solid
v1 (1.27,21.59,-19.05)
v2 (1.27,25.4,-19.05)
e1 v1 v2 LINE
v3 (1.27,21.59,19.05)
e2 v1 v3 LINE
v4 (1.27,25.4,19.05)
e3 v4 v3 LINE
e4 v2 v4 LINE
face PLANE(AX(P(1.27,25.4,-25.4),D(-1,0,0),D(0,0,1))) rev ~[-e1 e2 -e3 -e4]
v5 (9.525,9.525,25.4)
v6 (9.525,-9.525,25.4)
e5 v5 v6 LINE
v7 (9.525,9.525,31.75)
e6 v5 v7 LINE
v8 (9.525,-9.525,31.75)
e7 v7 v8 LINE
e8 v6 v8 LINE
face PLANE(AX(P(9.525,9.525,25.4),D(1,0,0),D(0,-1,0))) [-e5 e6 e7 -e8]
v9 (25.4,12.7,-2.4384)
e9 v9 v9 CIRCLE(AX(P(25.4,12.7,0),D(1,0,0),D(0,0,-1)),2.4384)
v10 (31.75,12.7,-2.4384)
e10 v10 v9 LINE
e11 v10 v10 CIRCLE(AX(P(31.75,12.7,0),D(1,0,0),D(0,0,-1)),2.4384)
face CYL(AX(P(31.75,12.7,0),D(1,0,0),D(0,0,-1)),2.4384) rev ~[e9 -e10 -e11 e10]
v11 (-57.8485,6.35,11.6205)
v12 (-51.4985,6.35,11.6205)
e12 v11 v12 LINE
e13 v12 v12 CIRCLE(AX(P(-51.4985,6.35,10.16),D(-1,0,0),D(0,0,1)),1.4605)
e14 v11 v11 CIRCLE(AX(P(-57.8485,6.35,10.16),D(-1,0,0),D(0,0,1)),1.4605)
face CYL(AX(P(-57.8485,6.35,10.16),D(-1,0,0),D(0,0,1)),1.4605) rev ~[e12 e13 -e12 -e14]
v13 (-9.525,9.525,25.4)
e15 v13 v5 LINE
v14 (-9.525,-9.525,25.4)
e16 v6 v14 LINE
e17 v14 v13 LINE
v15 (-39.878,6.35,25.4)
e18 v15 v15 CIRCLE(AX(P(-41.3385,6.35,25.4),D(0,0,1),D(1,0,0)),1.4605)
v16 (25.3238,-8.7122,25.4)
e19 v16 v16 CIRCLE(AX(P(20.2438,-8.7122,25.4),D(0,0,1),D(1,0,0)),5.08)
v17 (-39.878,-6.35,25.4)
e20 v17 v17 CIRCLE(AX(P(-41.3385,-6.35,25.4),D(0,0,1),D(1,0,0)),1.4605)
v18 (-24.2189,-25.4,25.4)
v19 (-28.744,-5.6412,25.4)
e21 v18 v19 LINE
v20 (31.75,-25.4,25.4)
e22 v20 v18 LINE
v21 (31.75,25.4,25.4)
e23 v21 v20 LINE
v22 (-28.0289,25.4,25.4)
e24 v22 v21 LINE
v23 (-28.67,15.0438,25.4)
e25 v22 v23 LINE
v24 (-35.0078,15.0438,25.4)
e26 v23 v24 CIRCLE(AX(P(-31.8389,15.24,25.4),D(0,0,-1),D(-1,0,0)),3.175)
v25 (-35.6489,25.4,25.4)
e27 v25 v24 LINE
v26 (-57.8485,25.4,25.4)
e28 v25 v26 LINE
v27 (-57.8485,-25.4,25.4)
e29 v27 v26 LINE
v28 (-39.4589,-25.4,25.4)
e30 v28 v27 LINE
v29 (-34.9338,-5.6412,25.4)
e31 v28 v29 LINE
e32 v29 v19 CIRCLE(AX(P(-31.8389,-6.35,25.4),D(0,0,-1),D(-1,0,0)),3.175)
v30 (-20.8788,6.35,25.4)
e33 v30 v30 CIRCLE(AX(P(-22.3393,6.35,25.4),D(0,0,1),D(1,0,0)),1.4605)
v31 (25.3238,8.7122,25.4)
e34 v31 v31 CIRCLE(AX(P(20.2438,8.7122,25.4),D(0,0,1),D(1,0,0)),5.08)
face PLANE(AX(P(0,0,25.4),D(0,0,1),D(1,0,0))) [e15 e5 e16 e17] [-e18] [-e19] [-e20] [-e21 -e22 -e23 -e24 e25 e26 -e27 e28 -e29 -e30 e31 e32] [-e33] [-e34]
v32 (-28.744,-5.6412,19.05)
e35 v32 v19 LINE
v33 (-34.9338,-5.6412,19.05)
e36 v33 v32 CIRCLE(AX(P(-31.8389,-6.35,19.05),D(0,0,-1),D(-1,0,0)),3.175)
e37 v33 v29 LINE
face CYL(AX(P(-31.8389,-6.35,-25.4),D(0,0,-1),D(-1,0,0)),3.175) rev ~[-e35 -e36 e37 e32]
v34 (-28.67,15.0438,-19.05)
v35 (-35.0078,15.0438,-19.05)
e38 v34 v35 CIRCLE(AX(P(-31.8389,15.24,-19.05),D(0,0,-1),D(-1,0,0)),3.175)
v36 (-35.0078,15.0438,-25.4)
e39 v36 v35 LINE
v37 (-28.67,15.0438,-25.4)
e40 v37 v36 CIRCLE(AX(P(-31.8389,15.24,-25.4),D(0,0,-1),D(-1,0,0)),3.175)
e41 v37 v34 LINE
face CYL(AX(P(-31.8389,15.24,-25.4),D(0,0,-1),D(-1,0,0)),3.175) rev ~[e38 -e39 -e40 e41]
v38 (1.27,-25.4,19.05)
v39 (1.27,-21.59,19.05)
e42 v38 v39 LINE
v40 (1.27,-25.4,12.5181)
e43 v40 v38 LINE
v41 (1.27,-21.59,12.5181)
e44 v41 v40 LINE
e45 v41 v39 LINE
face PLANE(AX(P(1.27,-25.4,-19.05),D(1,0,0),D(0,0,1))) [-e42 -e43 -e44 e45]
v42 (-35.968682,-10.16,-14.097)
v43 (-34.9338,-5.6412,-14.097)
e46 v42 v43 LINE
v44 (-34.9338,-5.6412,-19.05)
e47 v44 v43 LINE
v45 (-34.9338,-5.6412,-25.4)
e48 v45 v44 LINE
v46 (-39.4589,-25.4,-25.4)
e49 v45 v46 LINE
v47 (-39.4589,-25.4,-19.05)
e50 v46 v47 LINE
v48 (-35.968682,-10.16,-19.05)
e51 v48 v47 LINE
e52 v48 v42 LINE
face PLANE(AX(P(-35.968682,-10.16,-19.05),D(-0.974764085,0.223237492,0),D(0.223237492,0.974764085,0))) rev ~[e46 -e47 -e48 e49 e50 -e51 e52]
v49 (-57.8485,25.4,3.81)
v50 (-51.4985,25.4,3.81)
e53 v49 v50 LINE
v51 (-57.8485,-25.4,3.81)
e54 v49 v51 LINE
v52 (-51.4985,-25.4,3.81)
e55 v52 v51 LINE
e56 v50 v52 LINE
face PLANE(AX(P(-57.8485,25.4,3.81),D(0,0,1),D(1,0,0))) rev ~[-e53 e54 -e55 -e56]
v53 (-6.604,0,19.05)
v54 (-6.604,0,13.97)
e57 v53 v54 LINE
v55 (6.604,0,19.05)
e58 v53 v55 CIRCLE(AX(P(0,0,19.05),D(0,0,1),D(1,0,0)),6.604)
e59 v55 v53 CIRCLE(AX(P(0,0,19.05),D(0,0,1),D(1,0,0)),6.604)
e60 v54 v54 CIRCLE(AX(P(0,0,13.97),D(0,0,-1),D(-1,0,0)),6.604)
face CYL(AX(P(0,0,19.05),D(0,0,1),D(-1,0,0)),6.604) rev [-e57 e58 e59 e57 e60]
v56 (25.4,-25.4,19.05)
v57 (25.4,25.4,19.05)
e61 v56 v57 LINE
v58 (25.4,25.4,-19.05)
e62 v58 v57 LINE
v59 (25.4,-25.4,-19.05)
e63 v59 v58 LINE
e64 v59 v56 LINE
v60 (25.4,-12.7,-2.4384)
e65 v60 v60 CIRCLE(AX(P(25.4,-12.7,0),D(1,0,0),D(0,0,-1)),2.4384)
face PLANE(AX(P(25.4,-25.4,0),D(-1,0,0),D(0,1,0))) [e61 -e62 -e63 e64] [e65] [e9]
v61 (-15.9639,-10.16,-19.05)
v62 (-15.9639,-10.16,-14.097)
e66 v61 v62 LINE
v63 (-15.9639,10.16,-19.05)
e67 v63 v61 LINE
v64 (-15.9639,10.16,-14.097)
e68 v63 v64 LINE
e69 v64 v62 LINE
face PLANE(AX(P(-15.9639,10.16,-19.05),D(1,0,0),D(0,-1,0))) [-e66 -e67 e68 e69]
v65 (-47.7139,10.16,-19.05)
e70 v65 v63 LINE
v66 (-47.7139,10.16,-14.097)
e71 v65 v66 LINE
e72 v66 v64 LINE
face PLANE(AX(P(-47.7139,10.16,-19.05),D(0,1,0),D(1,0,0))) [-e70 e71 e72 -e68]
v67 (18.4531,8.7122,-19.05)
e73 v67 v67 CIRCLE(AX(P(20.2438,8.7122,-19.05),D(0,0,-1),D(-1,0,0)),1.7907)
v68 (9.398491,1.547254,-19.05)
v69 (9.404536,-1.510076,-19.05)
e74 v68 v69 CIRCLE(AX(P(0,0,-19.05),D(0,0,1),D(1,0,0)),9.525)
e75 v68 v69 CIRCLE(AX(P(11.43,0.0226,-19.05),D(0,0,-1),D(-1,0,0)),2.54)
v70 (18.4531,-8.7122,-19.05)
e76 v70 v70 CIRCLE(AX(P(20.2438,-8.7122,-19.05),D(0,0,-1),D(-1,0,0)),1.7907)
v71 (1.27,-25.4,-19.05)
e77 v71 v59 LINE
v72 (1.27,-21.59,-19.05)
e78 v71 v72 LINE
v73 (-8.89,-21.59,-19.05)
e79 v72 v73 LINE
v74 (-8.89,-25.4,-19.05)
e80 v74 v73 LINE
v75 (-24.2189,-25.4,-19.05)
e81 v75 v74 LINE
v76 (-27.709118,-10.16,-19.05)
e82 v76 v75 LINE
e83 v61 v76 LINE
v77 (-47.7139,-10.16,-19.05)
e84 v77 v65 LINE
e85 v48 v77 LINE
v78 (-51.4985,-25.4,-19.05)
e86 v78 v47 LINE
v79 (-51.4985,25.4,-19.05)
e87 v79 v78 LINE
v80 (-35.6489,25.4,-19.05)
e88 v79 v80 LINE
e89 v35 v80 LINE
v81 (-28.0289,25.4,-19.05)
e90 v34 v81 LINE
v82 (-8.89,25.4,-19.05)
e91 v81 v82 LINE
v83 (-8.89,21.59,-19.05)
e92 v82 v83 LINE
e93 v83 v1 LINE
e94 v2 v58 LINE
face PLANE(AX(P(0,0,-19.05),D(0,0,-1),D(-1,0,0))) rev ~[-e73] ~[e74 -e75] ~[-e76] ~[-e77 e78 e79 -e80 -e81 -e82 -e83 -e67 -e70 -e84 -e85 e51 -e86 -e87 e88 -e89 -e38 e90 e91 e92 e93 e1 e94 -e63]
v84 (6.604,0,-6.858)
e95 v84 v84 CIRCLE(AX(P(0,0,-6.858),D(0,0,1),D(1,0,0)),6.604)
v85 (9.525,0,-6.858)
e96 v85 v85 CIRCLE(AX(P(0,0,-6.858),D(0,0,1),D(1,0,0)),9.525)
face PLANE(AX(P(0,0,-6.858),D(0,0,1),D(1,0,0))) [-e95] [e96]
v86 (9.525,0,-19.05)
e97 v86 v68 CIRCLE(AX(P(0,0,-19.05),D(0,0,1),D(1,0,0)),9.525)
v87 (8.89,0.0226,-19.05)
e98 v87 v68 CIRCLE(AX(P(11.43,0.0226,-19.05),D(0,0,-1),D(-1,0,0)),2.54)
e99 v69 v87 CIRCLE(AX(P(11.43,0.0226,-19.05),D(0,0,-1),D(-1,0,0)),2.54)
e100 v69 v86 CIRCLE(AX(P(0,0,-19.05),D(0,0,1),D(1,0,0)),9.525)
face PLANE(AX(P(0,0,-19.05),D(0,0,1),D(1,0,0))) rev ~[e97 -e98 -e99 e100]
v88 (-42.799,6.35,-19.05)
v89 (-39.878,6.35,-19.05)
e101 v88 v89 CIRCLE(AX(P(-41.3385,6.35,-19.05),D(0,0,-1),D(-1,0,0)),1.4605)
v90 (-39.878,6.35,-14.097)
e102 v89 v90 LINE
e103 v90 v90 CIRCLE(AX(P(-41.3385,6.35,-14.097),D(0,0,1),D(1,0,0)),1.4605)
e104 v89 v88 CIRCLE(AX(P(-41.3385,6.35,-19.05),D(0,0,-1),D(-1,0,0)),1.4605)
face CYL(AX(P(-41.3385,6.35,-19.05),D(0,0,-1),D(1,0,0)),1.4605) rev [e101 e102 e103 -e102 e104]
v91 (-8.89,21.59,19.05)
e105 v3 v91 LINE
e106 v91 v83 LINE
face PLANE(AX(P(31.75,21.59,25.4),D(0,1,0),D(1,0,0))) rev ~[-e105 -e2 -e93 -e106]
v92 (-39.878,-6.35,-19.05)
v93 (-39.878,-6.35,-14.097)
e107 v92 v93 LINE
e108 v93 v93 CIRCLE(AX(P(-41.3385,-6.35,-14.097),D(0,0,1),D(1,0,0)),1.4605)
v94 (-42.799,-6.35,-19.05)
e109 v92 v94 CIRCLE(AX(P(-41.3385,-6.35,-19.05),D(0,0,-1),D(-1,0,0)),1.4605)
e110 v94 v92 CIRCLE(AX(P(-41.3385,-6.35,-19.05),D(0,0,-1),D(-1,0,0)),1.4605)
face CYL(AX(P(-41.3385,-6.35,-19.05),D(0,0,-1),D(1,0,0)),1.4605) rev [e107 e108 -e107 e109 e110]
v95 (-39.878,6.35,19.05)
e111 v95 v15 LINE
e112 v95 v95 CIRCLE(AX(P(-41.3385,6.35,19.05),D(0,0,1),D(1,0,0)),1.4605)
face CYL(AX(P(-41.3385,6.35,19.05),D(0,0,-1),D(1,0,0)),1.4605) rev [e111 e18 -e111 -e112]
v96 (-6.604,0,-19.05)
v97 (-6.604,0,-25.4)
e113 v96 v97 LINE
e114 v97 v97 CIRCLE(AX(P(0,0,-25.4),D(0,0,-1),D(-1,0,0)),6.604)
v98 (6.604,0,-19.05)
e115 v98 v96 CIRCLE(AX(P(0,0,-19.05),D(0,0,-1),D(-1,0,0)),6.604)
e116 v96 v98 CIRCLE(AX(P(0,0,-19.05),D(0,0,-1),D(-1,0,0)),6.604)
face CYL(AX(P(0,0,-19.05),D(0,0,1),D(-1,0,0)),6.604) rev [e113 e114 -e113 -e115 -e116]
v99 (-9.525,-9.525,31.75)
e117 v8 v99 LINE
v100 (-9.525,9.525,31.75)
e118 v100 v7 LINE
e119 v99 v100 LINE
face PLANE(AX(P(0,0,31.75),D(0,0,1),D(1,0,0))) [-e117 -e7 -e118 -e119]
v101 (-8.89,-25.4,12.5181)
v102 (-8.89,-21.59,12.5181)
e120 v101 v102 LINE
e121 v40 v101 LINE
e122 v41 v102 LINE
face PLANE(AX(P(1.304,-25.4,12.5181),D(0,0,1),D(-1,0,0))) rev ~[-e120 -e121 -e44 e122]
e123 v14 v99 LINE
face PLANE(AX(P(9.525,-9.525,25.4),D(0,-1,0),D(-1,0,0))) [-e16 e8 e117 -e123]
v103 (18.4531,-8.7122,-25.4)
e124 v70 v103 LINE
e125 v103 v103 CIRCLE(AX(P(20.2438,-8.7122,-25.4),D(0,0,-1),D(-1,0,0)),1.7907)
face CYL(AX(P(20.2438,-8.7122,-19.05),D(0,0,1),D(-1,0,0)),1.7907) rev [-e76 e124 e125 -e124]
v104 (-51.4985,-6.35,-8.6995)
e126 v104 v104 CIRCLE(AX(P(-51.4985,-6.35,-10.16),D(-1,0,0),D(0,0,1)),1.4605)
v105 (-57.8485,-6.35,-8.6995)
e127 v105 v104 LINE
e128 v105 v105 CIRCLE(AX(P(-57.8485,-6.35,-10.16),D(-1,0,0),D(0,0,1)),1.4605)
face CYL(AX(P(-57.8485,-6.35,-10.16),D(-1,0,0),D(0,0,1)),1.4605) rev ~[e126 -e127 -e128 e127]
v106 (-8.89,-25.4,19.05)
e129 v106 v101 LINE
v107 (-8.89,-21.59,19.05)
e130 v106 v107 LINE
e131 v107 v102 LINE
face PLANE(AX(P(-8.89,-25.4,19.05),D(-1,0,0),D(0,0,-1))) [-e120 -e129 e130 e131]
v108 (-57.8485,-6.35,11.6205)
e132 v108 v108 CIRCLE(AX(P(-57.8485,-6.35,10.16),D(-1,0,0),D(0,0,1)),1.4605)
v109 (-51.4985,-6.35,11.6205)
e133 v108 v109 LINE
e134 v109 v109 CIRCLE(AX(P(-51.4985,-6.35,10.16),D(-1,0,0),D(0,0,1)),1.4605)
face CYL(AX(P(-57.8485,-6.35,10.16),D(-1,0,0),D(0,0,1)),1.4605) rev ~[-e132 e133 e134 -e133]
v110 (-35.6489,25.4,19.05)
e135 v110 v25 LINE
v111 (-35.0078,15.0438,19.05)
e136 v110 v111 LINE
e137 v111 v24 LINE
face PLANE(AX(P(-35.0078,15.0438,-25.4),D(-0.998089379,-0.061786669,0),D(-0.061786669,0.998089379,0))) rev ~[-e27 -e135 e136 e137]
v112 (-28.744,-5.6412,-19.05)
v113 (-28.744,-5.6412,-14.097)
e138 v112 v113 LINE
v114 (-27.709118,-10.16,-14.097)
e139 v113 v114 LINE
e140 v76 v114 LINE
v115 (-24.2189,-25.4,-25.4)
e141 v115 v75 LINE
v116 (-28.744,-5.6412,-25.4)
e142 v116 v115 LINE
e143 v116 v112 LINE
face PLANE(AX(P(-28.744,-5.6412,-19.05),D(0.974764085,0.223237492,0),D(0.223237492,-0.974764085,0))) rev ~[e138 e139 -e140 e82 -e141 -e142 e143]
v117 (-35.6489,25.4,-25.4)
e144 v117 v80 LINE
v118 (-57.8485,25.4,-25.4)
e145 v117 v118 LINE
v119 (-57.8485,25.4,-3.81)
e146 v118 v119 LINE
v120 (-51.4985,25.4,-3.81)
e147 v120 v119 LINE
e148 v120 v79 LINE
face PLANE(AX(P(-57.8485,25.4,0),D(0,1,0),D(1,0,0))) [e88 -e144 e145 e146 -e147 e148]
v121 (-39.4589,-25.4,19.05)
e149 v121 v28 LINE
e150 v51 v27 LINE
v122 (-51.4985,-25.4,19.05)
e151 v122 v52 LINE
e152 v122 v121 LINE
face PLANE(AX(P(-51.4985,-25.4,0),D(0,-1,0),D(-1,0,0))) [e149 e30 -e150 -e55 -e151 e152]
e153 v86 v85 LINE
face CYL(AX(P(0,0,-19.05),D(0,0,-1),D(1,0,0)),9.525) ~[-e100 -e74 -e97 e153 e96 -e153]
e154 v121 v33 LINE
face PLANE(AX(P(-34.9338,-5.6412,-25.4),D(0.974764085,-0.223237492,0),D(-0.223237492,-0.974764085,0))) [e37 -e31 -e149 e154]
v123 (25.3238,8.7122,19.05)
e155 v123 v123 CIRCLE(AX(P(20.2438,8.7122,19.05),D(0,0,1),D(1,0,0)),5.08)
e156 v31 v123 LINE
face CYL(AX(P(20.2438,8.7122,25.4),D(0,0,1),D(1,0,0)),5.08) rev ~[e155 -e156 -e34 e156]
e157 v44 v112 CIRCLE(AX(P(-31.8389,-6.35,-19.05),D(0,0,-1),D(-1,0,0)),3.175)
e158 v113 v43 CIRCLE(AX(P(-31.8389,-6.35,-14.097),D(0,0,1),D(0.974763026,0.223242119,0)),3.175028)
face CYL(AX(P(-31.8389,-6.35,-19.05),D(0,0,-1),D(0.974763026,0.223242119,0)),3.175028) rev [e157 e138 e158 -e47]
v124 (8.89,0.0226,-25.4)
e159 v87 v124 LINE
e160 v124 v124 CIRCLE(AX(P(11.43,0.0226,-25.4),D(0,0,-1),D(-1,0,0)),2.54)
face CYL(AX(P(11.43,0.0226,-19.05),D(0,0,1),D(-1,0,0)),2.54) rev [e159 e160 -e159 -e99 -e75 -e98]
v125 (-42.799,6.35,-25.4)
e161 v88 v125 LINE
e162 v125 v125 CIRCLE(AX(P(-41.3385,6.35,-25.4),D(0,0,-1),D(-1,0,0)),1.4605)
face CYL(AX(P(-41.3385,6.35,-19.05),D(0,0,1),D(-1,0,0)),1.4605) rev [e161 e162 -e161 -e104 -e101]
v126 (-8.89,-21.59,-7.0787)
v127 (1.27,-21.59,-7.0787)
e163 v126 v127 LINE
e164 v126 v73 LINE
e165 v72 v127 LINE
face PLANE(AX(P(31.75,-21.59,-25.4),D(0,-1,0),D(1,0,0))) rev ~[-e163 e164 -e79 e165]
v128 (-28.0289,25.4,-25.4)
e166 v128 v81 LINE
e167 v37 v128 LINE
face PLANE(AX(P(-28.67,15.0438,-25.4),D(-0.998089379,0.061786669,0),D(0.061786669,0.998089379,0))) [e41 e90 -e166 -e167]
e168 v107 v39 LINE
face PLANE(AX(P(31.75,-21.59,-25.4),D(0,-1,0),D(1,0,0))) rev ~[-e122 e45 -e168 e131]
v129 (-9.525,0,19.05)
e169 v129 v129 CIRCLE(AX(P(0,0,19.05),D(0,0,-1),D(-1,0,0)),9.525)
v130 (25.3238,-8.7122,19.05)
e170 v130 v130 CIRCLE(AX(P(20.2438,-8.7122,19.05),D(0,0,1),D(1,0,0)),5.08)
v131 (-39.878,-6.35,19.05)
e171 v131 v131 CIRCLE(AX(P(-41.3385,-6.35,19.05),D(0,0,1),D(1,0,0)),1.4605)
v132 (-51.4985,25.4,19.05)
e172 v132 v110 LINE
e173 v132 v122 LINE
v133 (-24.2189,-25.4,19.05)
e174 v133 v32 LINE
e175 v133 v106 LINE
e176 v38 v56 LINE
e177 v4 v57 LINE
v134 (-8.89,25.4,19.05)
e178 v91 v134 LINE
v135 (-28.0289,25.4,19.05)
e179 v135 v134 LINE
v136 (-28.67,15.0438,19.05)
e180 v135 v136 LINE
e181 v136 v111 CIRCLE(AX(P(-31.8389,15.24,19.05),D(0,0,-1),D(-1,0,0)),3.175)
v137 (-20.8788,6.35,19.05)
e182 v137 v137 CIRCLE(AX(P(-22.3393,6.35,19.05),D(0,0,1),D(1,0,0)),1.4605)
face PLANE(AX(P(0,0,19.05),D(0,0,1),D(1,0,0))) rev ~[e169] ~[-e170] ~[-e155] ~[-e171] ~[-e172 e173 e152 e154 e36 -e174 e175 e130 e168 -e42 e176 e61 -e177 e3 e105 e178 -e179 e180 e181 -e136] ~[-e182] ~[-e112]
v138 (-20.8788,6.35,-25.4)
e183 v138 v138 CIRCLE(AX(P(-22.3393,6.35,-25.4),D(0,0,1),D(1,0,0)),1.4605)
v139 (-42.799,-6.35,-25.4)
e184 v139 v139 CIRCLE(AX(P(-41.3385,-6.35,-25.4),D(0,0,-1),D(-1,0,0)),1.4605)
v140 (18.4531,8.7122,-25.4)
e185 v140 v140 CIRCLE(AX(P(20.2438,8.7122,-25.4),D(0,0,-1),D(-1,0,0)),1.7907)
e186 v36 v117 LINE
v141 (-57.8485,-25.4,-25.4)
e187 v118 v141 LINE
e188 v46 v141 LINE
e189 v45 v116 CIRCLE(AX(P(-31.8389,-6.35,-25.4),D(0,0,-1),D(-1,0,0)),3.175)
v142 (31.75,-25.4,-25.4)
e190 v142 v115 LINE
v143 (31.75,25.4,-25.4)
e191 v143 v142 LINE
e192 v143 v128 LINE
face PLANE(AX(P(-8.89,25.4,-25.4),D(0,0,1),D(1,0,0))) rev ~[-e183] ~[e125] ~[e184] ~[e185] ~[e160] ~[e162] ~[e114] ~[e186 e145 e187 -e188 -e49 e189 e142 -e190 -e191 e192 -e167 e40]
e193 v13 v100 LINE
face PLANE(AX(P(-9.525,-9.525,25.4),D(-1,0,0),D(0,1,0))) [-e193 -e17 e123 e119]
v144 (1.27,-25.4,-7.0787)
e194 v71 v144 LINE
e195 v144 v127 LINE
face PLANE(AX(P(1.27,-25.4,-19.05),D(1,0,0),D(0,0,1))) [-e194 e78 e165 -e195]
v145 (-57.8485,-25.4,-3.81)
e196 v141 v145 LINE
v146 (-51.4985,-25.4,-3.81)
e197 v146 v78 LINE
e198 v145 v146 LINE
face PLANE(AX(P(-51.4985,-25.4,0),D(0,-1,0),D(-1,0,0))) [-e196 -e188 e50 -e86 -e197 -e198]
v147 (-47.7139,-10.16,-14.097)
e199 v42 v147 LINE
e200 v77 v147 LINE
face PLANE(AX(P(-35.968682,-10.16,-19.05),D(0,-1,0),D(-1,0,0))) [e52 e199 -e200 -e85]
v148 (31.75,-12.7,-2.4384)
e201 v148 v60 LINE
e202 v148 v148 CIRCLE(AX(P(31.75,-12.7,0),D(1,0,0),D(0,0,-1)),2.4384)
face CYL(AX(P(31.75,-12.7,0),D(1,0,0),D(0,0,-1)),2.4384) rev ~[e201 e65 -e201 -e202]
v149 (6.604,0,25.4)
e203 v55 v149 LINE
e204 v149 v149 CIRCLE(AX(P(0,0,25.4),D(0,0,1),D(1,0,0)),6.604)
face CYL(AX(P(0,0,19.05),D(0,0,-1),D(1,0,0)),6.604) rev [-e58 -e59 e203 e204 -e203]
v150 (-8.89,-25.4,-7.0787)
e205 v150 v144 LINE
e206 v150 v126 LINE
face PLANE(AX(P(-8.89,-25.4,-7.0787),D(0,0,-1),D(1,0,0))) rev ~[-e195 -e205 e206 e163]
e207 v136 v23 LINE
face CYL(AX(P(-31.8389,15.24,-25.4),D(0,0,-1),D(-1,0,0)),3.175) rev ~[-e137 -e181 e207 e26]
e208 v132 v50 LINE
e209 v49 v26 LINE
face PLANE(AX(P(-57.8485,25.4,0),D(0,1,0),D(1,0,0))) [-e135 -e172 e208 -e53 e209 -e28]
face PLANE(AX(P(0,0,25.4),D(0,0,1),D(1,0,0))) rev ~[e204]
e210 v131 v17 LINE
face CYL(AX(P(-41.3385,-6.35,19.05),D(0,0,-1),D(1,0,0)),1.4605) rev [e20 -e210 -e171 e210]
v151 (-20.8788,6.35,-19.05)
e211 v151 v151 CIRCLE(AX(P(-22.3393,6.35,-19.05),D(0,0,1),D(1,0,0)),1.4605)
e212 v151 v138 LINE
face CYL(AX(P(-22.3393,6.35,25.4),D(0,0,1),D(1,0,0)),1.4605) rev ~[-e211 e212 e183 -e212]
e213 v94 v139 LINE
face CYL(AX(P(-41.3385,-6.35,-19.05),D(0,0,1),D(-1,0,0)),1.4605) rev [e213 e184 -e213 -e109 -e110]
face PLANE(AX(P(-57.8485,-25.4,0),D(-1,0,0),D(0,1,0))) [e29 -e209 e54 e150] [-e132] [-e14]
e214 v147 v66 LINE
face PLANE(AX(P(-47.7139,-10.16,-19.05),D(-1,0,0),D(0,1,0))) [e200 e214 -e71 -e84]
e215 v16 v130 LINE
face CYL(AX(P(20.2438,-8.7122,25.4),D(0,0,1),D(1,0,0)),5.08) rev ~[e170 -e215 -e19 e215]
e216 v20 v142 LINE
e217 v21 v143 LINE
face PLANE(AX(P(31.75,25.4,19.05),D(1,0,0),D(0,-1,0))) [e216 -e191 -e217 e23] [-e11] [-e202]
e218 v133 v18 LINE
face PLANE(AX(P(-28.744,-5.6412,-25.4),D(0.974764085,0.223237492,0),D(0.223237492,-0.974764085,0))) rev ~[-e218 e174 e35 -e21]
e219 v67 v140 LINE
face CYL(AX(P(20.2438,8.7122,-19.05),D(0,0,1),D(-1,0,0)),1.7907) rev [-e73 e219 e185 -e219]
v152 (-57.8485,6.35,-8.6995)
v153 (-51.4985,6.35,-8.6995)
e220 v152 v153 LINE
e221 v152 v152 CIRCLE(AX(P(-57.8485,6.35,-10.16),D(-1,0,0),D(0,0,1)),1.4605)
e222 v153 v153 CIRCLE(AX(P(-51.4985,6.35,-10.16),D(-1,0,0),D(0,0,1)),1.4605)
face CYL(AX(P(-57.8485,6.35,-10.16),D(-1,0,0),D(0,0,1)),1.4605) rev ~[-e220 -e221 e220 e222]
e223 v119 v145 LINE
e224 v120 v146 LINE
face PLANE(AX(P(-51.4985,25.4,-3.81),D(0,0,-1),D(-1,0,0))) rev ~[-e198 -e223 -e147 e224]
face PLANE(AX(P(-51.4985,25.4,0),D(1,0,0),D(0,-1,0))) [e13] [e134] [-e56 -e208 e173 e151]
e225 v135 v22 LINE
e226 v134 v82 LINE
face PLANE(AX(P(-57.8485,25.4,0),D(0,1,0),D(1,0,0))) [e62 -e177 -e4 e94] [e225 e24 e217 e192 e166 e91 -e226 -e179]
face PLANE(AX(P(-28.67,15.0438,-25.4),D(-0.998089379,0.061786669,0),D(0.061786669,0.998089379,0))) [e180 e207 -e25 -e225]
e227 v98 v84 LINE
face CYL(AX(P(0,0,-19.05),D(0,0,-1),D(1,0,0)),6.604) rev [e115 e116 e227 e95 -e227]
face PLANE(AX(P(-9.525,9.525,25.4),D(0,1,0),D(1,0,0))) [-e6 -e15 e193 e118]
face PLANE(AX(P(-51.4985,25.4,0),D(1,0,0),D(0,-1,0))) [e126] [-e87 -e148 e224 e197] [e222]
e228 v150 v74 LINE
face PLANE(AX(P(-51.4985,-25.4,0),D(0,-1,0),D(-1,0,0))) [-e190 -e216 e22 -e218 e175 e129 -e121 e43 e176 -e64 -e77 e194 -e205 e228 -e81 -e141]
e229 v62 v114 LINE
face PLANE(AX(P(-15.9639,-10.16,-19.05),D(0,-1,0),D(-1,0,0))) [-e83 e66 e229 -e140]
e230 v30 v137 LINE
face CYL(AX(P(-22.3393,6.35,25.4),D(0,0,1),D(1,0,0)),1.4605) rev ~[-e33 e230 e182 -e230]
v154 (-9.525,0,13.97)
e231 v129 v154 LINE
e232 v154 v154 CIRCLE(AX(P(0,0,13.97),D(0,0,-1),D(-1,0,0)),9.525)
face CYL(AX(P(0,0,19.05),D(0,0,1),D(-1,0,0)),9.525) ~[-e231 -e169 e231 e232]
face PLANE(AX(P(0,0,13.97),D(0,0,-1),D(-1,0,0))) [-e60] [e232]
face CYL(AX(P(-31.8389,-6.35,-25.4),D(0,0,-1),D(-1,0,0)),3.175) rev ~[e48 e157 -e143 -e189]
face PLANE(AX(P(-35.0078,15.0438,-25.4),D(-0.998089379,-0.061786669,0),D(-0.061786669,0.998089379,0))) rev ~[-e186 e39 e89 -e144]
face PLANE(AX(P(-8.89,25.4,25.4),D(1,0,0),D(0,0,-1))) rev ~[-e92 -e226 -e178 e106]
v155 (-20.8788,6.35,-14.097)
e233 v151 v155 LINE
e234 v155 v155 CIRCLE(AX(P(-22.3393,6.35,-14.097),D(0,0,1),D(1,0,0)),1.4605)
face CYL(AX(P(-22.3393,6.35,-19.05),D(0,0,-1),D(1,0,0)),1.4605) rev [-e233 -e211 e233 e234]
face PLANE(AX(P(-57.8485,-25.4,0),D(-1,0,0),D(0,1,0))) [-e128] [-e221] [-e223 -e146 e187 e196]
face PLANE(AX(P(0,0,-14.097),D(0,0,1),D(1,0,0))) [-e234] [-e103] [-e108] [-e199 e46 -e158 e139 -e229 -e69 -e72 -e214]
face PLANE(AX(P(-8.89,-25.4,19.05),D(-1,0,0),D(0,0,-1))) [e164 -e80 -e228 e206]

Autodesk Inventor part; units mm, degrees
ref_plane "YZ Plane" through (0, 0, 0) normal (1, 0, 0) x (0, 1, 0)
ref_plane "XZ Plane" through (0, 0, 0) normal (0, 1, 0) x (-1, 0, 0)
ref_plane "XY Plane" through (0, 0, 0) normal (0, 0, 1) x (1, 0, 0)
sketch "Sketch1" plane through (0, 0, 0) normal (0, 0, 1) x (1, 0, 0)
  line L0 (-57.8485, 25.4) -> (-51.4985, 25.4)
  line L1 (-51.4985, 25.4) -> (-51.4985, -25.4)
  line L2 (-51.4985, -25.4) -> (-57.8485, -25.4)
  line L3 (-57.8485, -25.4) -> (-57.8485, 25.4)
  line L4 (25.4, 25.4) -> (31.75, 25.4)
  line L5 (31.75, 25.4) -> (31.75, -25.4)
  line L6 (31.75, -25.4) -> (25.4, -25.4)
  line L7 (25.4, -25.4) -> (25.4, 25.4)
  point P0 (0, 0)
  dimension "d0" = 6.35
  dimension "d1" = 50.8
  dimension "d2" = 25.4
  dimension "d3" = 51.4985
  dimension "d4" = 25.4
  dimension "d5" = 25.4
extrude "Extrusion1" add sketch "Sketch1" along normal mid plane 38.1
sketch "Sketch2" plane through (0, 0, 19.05) normal (0, 0, 1) x (1, 0, 0)
  line L0 (-51.4985, 25.4) -> (-57.8485, 25.4) projected
  line L1 (31.75, -25.4) -> (25.4, -25.4) projected
  line L2 (-57.8485, 25.4) -> (31.75, 25.4)
  line L3 (31.75, 25.4) -> (31.75, -25.4)
  line L4 (31.75, -25.4) -> (-57.8485, -25.4)
  line L5 (-57.8485, -25.4) -> (-57.8485, 25.4)
  circle A0 centre (0, 0) radius 6.604
  circle A1 centre (-41.3385, 6.35) radius 1.4605
  line L6 (-47.9108, 0) -> (-31.2118, 0) construction
  circle A2 centre (-41.3385, -6.35) radius 1.4605
  line L7 (-51.4985, -25.4) -> (-51.4985, 25.4) projected
  dimension "d8" = 13.208
  dimension "d40" = 2.921
  dimension "d42" = 19.05
  dimension "d43" = 16.51
  dimension "d44" = 6.35
  dimension "d92" = 6.35
sketch "Sketch3" plane through (0, 0, -19.05) normal (0, 0, -1) x (-1, 0, 0)
  line L0 (-31.75, 25.4) -> (-31.75, -25.4) projected
  line L1 (51.4985, -25.4) -> (57.8485, -25.4) projected
  line L2 (-31.75, 25.4) -> (57.8485, 25.4)
  line L3 (57.8485, 25.4) -> (57.8485, -25.4)
  line L4 (57.8485, -25.4) -> (-31.75, -25.4)
  line L5 (-31.75, -25.4) -> (-31.75, 25.4)
  circle A0 centre (0, 0) radius 6.604
  circle A1 centre (-11.43, 0.0226) radius 2.54
  circle A2 centre (-20.2438, 8.7122) radius 1.7907
  line L6 (-13.9699, 0) -> (6.604, 0) construction
  circle A3 centre (-20.2438, -8.7122) radius 1.7907
  circle A4 centre (41.3385, 6.35) radius 1.4605
  line L7 (51.4985, 25.4) -> (51.4985, -25.4) projected
  circle A5 centre (41.3385, -6.35) radius 1.4605
  dimension "d11" = 13.208
  dimension "d12" = 5.08
  dimension "d13" = 11.43
  dimension "d14" = 3.5814
  dimension "d15" = 20.2438
  dimension "d16" = 8.7122
  dimension "d32" = 2.921
  dimension "d33" = 10.16
  dimension "d34" = 6.35
  dimension "d35" = 6.35
extrude "Extrusion7" add sketch "Sketch2" along normal blind 6.35
extrude "Extrusion6" add sketch "Sketch3" along normal blind 6.35
sketch "Sketch6" plane through (-57.8485, -25.4, 25.4) normal (-1, 0, 0) x (0, 0, 1)
  circle A0 centre (-23.114, 38.1) radius 1.4605
  line L0 (-35.0625, 25.4) -> (-10.5897, 25.4) construction
  line L1 (0, 0) -> (-50.8, 0) construction
  line L2 (0, 50.8) -> (0, 0) construction
  circle A1 centre (-23.114, 12.7) radius 1.4605
  point P0 (-25.4, 25.4)
  dimension "d47" = 2.921
  dimension "d48" = 25.4
  dimension "d49" = 12.7
  dimension "d50" = 23.114
extrude "Extrusion8" cut sketch "Sketch6" against normal up to next
sketch "Sketch8" plane through (-57.8485, 25.4, 25.4) normal (0, 1, 0) x (1, 0, 0)
  line L0 (0, 50.8) -> (0, 0) projected
  line L1 (0, 21.59) -> (6.35, 21.59)
  line L2 (6.35, 21.59) -> (6.35, 29.21)
  line L3 (6.35, 29.21) -> (0, 29.21)
  line L4 (0, 29.21) -> (0, 21.59)
  line L5 (0, 25.4) -> (6.35, 25.4) construction
  line L6 (89.5985, 0) -> (0, 0) projected
  line L7 (0, 50.8) -> (89.5985, 50.8) projected
  line L8 (6.35, 6.35) -> (6.35, 44.45) projected
  point P0 (57.8485, 25.4)
  point P1 (0, 29.21)
  dimension "d56" = 25.4
  dimension "d57" = 50.8
  dimension "d58" = 7.62
extrude "Extrusion10" cut sketch "Sketch8" against normal through all
sketch "Sketch10" plane through (0, 0, 25.4) normal (0, 0, 1) x (1, 0, 0)
  circle A0 centre (20.2438, -8.7122) radius 1.7907 construction
  circle A1 centre (20.2438, -8.7122) radius 1.7907 projected
  circle A2 centre (20.2438, 8.7122) radius 1.7907 construction
  circle A3 centre (20.2438, 8.7122) radius 1.7907 projected
  circle A4 centre (20.2438, 8.7122) radius 5.08
  circle A5 centre (20.2438, -8.7122) radius 5.08
  point P0 (0, 0)
  dimension "d64" = 10.16
extrude "Extrusion12" cut sketch "Sketch10" against normal blind 25.4 contours A1 | A3 | A4 | A5
sketch "Sketch11" plane through (0, 0, 25.4) normal (0, 0, 1) x (1, 0, 0)
  line L0 (9.525, -9.525) -> (-9.525, -9.525)
  line L1 (-9.525, -9.525) -> (-9.525, 9.525)
  line L2 (-9.525, 9.525) -> (9.525, 9.525)
  line L3 (9.525, 9.525) -> (9.525, -9.525)
  line L4 (9.525, -9.525) -> (-9.525, 9.525) construction
  line L5 (-9.525, -9.525) -> (9.525, 9.525) construction
  point P0 (0, 0)
  dimension "d67" = 19.05
  dimension "d68" = 19.05
extrude "Extrusion13" add sketch "Sketch11" along normal blind 6.35
sketch "Sketch12" plane through (0, 0, -25.4) normal (0, 0, -1) x (-1, 0, 0)
  circle A0 centre (31.8389, -6.35) radius 3.175
  line L0 (57.8485, -25.4) -> (57.8485, 25.4) projected
  line L1 (34.9338, -5.6412) -> (39.4589, -25.4)
  line L2 (28.744, -5.6412) -> (24.2189, -25.4)
  line L3 (24.2189, -25.4) -> (39.4589, -25.4)
  line L4 (-25.4, -25.4) -> (51.4985, -25.4) projected
  circle A1 centre (31.8389, 15.24) radius 3.175
  line L5 (57.8485, 25.4) -> (-31.75, 25.4) projected
  line L6 (28.67, 15.0438) -> (28.0289, 25.4)
  line L7 (51.4985, 25.4) -> (-25.4, 25.4) projected
  line L8 (35.0078, 15.0438) -> (35.6489, 25.4)
  point P0 (0, 0)
  dimension "d71" = 6.35
  dimension "d72" = 26.0096
  dimension "d73" = 6.35
  dimension "d74" = 15.24
  dimension "d75" = 7.62
  dimension "d78" = 10.16
  dimension "d79" = 7.62
  dimension "d80" = 3.81
extrude "Extrusion14" cut sketch "Sketch12" against normal through all
sketch "Sketch13" plane through (0, 0, -19.05) normal (0, 0, 1) x (1, 0, 0)
  circle A0 centre (0, 0) radius 6.604 projected
  circle A1 centre (0, 0) radius 6.604 projected
  circle A2 centre (0, 0) radius 9.525
  dimension "d81" = 19.05
extrude "Extrusion15" add sketch "Sketch13" along normal blind 12.192
sketch "Sketch14" plane through (31.75, 25.4, 25.4) normal (0, 1, 0) x (1, 0, 0)
  line L0 (-59.7789, 50.8) -> (0, 50.8) projected
  line L1 (-22.225, 0) -> (-41.275, 0) projected
  line L2 (-40.64, 50.8) -> (-30.48, 50.8)
  line L3 (-30.48, 50.8) -> (-30.48, 0)
  line L4 (-30.48, 0) -> (-40.64, 0)
  line L5 (-40.64, 0) -> (-40.64, 50.8)
  line L6 (0, 0) -> (0, 50.8) projected
  point P0 (-31.75, 25.4)
  dimension "d84" = 10.16
  dimension "d85" = 40.64
extrude "Extrusion16" add sketch "Sketch14" against normal blind 3.81
sketch "Sketch15" plane through (0, 0, 19.05) normal (0, 0, -1) x (-1, 0, 0)
  circle A0 centre (0, 0) radius 9.525 projected
  circle A1 centre (0, 0) radius 6.604 projected
extrude "Extrusion17" add sketch "Sketch15" along normal blind 5.08
sketch "Sketch16" plane through (31.75, -25.4, -25.4) normal (0, -1, 0) x (1, 0, 0)
  line L0 (-40.64, 44.45) -> (-30.48, 44.45) projected
  line L1 (-40.64, 44.45) -> (-40.64, 6.35) projected
  line L2 (-30.48, 6.35) -> (-40.64, 6.35) projected
  line L3 (-30.48, 6.35) -> (-30.48, 44.45) projected
  point P0 (-31.75, 25.4)
extrude "Extrusion18" add sketch "Sketch16" against normal blind 3.81
sketch "Sketch17" plane through (0, 0, 25.4) normal (0, 0, 1) x (1, 0, 0)
  arc A0 (-35.0078, 15.0438) -> (-28.67, 15.0438) centre (-31.8389, 15.24) ccw construction
  line L0 (-31.8389, 12.065) -> (-31.8389, -3.175) construction
  arc A1 (-28.744, -5.6412) -> (-34.9338, -5.6412) centre (-31.8389, -6.35) ccw construction
  circle A2 centre (-41.3385, 6.35) radius 1.4605 projected
  circle A3 centre (-41.3385, 6.35) radius 1.4605 projected
  circle A4 centre (-22.3393, 6.35) radius 1.4605
  point P0 (0, 0)
extrude "Extrusion19" cut sketch "Sketch17" against normal through all contours A4
sketch "Sketch19" plane through (-57.8485, -25.4, -25.4) normal (-1, 0, 0) x (0, 0, 1)
  circle A0 centre (15.24, 31.75) radius 1.4605
  circle A1 centre (15.24, 19.05) radius 1.4605
  line L0 (21.59, 0) -> (21.59, 50.8) construction
  line L1 (0, 50.8) -> (21.59, 50.8) construction
  line L2 (25.4, 25.4) -> (25.4, 50.8) construction
  line L3 (6.35, 50.8) -> (44.45, 50.8) construction
  circle A2 centre (35.56, 31.75) radius 1.4605
  circle A3 centre (35.56, 19.05) radius 1.4605
  dimension "d95" = 6.35
  dimension "d96" = 2.921
  dimension "d97" = 2.921
  dimension "d98" = 12.7
  dimension "d99" = 19.05
extrude "Extrusion20" cut sketch "Sketch19" against normal blind 12.7
sketch "Sketch20" plane through (31.75, -25.4, 25.4) normal (1, 0, 0) x (0, 0, -1)
  circle A0 centre (25.4, 38.1) radius 2.4384
  circle A1 centre (25.4, 12.7) radius 2.4384
  line L0 (50.8, 50.8) -> (50.8, 0) projected
  line L1 (0, 0) -> (0, 50.8) projected
  line L2 (0, 50.8) -> (50.8, 50.8) projected
  point P0 (25.4, 25.4)
  dimension "d102" = 25.4
  dimension "d103" = 50.8
  dimension "d104" = 25.4
  dimension "d105" = 12.7
  dimension "d106" = 4.8768
extrude "Extrusion21" cut sketch "Sketch20" against normal blind 25.4
sketch "Sketch21" plane through (0, 0, -19.05) normal (0, 0, 1) x (1, 0, 0)
  circle A0 centre (-22.3393, 6.35) radius 1.4605 projected
  line L0 (1.27, -21.59) -> (1.27, -25.4) projected
  line L1 (25.4, -25.4) -> (1.27, -25.4) projected
  line L2 (25.4, -25.4) -> (25.4, 25.4) projected
  line L3 (1.27, 25.4) -> (25.4, 25.4) projected
  line L4 (1.27, 25.4) -> (1.27, 21.59) projected
  line L5 (1.27, 21.59) -> (-8.89, 21.59) projected
  line L6 (-8.89, 21.59) -> (-8.89, 25.4) projected
  line L7 (-28.0289, 25.4) -> (-8.89, 25.4) projected
  line L8 (-28.0289, 25.4) -> (-28.67, 15.0438) projected
  arc A1 (-35.0078, 15.0438) -> (-28.67, 15.0438) centre (-31.8389, 15.24) ccw projected
  line L9 (-35.0078, 15.0438) -> (-35.6489, 25.4) projected
  line L10 (-51.4985, 25.4) -> (-35.6489, 25.4) projected
  line L11 (-51.4985, 25.4) -> (-51.4985, -25.4) projected
  line L12 (-39.4589, -25.4) -> (-51.4985, -25.4) projected
  line L13 (-39.4589, -25.4) -> (-34.9338, -5.6412) projected
  arc A2 (-28.744, -5.6412) -> (-34.9338, -5.6412) centre (-31.8389, -6.35) ccw projected
  line L14 (-28.744, -5.6412) -> (-24.2189, -25.4) projected
  line L15 (-8.89, -25.4) -> (-24.2189, -25.4) projected
  line L16 (-8.89, -25.4) -> (-8.89, -21.59) projected
  line L17 (-8.89, -21.59) -> (1.27, -21.59) projected
  circle A3 centre (20.2438, -8.7122) radius 1.7907 projected
  circle A4 centre (20.2438, 8.7122) radius 1.7907 projected
  circle A5 centre (-41.3385, -6.35) radius 1.4605 projected
  circle A6 centre (-41.3385, 6.35) radius 1.4605 projected
  arc A7 (9.3985, 1.5472) -> (9.4045, -1.5101) centre (0, 0) ccw projected
  arc A8 (9.4045, -1.5101) -> (9.3985, 1.5472) centre (11.43, 0.0226) ccw projected
  line L18 (-47.7139, 10.16) -> (-15.9639, 10.16)
  line L19 (-15.9639, 10.16) -> (-15.9639, -10.16)
  line L20 (-15.9639, -10.16) -> (-47.7139, -10.16)
  line L21 (-47.7139, -10.16) -> (-47.7139, 10.16)
  point P0 (-27.7091, -10.16)
  point P1 (-35.9687, -10.16)
  dimension "d109" = 6.3754
  dimension "d110" = 31.75
  dimension "d111" = 20.32
  dimension "d112" = 10.16
extrude "Extrusion22" add sketch "Sketch21" along normal blind 4.953 contours L14 A2 L13 L20 L21 L18 L19
sketch "Sketch22" plane through (31.75, -25.4, -25.4) normal (0, -1, 0) x (1, 0, 0)
  line L0 (-40.64, 6.35) -> (-40.64, 44.45) projected
  line L1 (-40.64, 18.3213) -> (-30.446, 18.3213)
  line L2 (-30.446, 18.3213) -> (-30.446, 37.9181)
  line L3 (-30.446, 37.9181) -> (-40.64, 37.9181)
  line L4 (-40.64, 37.9181) -> (-40.64, 18.3213)
  point P0 (-31.75, 25.4)
  point P1 (-40.64, 37.9181)
extrude "Extrusion23" cut sketch "Sketch22" against normal blind 6.35
equation "\"d56\" = 0.5 * d57"
equation "\"d75\" = 0.5 * d74"
equation "\"d80\" = 0.5 * d79"
equation "\"d102\" = 0.5 * d103"
equation "\"d107\" = d104"
equation "\"d112\" = 0.5 * d111"
properties part number "NewCasing"
